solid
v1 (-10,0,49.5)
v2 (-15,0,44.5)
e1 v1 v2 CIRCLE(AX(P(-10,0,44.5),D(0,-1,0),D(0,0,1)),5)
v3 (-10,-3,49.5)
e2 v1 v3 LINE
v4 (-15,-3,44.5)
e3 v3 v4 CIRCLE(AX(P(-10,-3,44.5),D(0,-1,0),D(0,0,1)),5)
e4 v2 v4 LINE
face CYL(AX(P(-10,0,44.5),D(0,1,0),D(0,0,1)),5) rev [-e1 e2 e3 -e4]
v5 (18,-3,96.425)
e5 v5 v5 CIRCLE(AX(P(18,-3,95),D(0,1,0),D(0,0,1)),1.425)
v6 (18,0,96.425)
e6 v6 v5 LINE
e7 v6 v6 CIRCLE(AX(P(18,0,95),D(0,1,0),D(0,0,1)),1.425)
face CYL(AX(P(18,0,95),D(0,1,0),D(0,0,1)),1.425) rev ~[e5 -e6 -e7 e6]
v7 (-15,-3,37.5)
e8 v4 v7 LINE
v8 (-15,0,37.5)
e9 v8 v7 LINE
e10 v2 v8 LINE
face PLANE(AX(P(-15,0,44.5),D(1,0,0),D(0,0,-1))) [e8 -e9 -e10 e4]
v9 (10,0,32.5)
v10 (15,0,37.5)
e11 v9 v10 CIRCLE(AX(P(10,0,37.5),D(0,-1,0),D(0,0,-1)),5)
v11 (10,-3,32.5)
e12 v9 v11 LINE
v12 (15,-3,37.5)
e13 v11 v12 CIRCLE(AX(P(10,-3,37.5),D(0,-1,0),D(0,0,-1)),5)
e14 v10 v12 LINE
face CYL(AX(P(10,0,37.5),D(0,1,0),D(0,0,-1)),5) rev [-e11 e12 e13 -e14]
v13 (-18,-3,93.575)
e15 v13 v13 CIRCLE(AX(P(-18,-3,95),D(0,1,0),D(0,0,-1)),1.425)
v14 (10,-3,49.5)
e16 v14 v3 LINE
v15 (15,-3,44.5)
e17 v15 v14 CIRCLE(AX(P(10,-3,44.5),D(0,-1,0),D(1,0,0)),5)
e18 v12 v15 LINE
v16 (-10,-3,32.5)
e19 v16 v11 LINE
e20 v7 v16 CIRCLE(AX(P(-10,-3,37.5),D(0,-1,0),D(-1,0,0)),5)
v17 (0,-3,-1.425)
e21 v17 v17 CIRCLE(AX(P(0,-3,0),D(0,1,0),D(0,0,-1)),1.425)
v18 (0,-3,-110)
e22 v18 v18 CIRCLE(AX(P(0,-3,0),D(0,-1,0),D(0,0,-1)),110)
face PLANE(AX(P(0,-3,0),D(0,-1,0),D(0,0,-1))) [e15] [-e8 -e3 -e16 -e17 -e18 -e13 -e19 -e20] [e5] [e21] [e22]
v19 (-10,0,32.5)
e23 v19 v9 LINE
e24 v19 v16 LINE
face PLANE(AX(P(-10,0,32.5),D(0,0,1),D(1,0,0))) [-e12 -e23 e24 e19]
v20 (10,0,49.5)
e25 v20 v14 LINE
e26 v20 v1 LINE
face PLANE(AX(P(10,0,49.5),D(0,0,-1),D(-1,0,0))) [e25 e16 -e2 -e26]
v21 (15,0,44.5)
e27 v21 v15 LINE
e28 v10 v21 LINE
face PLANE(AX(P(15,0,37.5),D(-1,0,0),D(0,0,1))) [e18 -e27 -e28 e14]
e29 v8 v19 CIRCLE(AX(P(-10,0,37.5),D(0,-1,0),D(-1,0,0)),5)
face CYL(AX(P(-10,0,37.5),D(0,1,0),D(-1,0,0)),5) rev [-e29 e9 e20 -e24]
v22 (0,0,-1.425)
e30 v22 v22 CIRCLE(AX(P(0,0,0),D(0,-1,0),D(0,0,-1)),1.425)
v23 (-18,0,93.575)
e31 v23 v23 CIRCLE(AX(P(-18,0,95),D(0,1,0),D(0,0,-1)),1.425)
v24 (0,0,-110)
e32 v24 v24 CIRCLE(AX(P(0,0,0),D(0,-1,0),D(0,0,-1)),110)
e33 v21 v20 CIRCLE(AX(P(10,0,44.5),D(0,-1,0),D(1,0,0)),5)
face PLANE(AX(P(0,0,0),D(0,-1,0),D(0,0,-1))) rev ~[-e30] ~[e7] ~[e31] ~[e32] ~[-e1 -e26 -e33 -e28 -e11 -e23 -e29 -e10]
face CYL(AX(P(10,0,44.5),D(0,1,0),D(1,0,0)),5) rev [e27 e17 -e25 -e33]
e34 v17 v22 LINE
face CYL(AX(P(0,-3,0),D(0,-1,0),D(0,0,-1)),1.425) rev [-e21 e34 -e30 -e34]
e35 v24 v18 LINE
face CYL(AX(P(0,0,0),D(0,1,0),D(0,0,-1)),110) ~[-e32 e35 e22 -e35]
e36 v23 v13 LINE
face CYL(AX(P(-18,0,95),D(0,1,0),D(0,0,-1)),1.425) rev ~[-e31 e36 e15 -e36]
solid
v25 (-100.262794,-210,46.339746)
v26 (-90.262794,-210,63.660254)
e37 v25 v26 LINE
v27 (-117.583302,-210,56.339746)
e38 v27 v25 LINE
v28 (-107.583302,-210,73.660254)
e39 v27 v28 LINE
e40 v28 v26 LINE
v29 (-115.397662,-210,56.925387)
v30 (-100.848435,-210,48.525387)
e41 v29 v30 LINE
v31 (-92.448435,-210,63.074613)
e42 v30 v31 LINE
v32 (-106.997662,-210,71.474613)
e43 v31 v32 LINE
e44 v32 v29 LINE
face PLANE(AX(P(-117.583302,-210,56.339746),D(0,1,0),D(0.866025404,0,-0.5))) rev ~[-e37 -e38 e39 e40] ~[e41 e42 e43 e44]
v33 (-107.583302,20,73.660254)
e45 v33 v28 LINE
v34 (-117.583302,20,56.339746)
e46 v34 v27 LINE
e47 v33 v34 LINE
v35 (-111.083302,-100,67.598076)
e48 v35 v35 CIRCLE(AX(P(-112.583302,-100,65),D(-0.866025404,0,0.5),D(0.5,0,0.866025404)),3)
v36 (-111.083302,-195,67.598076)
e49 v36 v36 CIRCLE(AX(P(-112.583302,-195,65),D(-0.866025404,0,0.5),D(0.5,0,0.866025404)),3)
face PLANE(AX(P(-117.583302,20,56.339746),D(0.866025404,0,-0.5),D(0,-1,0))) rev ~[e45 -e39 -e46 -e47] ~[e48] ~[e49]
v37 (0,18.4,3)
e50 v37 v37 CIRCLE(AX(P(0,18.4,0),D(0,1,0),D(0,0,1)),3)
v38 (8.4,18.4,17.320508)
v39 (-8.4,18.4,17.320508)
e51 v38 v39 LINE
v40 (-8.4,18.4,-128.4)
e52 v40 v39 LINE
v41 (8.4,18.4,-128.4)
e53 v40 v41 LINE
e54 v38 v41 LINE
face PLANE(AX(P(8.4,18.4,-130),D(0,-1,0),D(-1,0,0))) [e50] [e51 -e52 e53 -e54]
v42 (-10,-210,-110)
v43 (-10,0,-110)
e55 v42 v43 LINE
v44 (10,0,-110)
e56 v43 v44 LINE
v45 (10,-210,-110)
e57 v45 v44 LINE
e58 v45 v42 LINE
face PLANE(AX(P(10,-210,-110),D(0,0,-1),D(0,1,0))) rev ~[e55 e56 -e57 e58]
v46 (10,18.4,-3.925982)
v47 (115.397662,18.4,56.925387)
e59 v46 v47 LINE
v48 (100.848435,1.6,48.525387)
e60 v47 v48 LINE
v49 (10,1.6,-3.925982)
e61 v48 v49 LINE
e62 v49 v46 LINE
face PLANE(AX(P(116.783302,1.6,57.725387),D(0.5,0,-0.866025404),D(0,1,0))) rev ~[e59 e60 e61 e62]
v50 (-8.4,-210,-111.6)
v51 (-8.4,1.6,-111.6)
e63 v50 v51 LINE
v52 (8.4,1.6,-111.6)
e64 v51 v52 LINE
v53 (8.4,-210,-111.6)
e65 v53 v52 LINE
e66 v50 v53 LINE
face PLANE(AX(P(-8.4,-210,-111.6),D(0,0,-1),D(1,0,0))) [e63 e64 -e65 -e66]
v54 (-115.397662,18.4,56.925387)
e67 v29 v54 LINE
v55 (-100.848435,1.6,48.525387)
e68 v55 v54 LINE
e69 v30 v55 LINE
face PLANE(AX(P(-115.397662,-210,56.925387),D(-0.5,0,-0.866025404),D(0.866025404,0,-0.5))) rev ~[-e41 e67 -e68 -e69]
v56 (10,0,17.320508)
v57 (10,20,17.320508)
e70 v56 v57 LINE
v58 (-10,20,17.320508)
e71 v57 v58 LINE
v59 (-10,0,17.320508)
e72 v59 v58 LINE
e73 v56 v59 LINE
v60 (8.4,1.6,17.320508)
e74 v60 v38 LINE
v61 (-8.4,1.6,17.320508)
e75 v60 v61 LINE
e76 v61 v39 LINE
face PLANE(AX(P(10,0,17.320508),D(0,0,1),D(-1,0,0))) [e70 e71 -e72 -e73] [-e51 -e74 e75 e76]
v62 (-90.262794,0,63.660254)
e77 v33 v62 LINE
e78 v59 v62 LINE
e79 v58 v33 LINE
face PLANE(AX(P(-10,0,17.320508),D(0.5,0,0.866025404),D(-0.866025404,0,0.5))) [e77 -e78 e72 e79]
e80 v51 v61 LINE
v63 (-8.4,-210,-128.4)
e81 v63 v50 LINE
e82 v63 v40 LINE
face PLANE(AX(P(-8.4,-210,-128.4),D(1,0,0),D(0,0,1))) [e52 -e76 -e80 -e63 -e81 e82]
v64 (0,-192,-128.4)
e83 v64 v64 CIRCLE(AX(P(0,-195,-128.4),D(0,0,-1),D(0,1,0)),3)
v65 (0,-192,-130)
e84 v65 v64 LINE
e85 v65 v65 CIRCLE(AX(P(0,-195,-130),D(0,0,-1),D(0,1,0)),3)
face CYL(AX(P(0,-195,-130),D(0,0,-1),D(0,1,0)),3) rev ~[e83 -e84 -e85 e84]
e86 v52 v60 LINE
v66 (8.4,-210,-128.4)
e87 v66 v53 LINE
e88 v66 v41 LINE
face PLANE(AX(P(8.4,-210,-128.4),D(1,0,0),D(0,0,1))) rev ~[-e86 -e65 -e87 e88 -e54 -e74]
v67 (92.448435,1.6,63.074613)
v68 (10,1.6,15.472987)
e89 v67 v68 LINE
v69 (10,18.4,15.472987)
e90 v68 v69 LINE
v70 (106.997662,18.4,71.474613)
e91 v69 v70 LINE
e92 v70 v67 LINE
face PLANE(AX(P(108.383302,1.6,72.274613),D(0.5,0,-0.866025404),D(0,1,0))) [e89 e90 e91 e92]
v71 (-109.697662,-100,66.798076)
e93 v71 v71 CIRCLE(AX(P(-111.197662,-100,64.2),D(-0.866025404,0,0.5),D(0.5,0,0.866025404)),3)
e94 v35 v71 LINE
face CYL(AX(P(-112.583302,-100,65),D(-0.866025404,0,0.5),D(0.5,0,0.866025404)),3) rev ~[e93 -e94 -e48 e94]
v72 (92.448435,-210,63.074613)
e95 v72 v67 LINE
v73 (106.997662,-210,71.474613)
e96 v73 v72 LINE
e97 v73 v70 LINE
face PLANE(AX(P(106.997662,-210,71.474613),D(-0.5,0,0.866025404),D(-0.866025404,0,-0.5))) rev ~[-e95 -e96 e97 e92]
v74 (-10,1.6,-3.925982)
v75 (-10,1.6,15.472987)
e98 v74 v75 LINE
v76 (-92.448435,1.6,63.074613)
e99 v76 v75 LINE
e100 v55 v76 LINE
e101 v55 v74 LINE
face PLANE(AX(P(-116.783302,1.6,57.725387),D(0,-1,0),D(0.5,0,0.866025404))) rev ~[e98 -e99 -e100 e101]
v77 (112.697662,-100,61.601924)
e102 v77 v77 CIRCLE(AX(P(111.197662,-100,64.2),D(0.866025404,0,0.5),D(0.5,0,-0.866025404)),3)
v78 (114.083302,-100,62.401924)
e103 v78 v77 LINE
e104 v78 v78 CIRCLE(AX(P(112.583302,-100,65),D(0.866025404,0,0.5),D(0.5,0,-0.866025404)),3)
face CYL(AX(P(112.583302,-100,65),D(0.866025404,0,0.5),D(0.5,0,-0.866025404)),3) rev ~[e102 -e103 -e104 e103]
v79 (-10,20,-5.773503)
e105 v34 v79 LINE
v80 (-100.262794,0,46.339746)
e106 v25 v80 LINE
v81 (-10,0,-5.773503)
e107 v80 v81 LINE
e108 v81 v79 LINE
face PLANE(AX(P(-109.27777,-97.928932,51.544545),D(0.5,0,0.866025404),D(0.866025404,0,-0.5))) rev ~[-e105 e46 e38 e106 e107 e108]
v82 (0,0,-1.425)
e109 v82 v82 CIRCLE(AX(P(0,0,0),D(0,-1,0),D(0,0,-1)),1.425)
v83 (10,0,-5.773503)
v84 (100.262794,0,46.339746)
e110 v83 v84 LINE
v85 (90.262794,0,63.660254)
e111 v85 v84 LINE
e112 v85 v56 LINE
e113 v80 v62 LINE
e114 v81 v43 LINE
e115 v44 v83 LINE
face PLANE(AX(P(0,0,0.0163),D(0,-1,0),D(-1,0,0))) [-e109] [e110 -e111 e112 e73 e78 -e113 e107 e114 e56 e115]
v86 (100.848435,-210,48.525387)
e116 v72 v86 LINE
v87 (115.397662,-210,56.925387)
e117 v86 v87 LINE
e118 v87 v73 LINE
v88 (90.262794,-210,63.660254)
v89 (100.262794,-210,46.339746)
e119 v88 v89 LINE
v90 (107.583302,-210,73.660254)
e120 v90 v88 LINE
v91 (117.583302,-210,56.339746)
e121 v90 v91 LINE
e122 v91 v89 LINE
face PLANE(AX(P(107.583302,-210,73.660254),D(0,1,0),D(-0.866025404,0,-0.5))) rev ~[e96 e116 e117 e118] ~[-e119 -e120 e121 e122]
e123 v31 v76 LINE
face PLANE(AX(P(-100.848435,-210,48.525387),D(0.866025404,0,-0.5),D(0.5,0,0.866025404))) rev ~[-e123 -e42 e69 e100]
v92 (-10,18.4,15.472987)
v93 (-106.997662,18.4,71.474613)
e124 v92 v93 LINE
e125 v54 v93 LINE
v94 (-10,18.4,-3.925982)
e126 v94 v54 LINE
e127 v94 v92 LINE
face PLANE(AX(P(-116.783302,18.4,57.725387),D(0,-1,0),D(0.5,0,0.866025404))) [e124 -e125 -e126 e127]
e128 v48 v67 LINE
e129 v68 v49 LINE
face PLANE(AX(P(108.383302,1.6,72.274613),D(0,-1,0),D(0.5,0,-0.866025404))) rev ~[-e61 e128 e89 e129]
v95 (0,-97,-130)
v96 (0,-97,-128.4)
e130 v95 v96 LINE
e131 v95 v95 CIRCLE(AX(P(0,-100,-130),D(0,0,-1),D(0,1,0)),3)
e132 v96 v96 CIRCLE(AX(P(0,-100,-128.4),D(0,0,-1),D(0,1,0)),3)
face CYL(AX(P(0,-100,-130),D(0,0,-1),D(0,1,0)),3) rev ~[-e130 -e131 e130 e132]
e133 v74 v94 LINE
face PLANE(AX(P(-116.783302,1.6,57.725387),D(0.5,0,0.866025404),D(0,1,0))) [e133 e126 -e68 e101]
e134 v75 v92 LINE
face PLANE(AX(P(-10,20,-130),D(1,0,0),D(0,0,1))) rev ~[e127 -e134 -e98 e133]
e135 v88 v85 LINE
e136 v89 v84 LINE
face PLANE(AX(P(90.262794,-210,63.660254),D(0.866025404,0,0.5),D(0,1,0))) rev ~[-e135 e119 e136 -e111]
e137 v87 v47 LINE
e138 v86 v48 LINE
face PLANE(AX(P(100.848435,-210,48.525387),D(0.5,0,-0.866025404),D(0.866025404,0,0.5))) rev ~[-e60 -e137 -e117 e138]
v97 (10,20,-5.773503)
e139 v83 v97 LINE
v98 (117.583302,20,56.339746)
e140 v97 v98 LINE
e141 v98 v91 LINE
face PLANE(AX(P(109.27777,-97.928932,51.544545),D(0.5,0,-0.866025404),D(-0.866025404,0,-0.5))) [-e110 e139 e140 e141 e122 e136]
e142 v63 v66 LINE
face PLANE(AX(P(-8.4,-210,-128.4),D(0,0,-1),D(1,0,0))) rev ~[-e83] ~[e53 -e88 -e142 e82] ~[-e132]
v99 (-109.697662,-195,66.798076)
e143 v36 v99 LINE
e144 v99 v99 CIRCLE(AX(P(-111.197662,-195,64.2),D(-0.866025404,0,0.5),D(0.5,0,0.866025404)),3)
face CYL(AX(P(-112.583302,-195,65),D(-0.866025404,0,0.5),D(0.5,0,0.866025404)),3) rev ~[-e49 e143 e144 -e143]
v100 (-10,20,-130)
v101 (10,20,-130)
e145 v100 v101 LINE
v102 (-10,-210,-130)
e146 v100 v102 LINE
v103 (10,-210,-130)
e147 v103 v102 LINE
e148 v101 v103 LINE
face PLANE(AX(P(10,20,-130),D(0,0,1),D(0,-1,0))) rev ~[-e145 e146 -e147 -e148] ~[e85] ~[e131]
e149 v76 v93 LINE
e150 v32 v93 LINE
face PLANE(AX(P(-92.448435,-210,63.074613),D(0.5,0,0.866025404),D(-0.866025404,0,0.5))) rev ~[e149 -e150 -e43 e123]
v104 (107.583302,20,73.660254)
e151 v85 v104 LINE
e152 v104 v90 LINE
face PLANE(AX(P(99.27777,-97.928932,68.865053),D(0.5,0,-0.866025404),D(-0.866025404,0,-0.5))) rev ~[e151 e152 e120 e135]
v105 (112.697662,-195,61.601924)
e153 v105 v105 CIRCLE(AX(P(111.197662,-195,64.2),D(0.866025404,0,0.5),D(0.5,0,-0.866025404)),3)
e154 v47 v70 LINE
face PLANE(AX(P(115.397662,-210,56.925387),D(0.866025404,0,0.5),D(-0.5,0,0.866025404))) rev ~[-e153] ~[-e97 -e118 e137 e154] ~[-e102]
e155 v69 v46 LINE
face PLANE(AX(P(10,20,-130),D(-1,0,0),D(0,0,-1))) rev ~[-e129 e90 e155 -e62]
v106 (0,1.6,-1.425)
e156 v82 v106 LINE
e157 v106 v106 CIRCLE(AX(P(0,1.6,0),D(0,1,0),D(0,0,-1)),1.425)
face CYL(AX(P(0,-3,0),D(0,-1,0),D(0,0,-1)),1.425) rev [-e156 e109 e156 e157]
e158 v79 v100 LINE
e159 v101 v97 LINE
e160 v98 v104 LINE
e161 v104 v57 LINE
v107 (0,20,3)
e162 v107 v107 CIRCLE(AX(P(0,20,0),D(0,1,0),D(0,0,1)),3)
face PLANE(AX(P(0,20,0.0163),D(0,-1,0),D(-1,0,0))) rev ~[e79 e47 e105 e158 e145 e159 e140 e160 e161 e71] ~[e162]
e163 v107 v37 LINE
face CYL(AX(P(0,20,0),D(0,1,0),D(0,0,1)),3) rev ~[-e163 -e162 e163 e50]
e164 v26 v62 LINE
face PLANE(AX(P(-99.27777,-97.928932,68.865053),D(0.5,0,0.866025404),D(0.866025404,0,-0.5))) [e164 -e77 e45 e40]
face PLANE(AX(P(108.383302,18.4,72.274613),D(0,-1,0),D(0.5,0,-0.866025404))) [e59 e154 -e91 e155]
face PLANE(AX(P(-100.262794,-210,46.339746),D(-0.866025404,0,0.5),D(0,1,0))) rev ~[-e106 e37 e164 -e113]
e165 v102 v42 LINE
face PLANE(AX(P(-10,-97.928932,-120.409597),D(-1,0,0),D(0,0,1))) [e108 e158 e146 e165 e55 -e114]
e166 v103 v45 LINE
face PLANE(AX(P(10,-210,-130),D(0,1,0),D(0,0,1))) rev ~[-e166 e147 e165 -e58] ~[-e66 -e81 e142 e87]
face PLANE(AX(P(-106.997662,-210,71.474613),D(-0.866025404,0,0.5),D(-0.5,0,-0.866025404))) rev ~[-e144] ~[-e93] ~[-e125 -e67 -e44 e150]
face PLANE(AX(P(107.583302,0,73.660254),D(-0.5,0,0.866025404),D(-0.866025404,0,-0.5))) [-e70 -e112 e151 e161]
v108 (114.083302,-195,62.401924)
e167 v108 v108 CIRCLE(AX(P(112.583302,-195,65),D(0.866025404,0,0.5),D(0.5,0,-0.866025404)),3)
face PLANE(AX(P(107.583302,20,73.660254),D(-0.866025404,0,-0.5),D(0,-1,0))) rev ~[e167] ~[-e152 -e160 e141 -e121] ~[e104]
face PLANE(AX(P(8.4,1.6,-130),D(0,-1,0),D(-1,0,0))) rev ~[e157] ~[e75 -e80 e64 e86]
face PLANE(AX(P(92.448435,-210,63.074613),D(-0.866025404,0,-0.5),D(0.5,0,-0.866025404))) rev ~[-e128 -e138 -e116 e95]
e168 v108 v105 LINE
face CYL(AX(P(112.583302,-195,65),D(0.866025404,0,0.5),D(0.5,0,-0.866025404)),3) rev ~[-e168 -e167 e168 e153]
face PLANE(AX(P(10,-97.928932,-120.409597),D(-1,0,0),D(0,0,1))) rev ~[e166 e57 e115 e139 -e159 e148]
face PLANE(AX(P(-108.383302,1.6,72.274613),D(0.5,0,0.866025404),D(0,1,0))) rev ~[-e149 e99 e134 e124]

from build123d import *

# Parameters (mm, degrees)
BOSS_EXTRUDE1_DEPTH = 20
CUT_EXTRUDE1_REACH  = 304.327
SKETCH2_W           = 16.8
SKETCH2_H           = 16.8
SKETCH3_W           = 16.8
SKETCH3_H           = 16.8
CUT_EXTRUDE2_DEPTH  = 147.320508076
CUT_EXTRUDE4_REACH  = 304.327
SKETCH4_W           = 16.8
SKETCH4_H           = 16.8
CUT_EXTRUDE5_REACH  = 185.242
CUT_EXTRUDE6_REACH  = 175.638
CUT_EXTRUDE7_REACH  = 188.154
BOSS_EXTRUDE2_DEPTH = 20
CUT_EXTRUDE8_DEPTH  = 228.4
BOSS_EXTRUDE3_DEPTH = 20
SKETCH11_W          = 16.8
SKETCH11_H          = 16.8
CUT_EXTRUDE9_DEPTH  = 228.4
BOSS_EXTRUDE4_DEPTH = 20
CUT_EXTRUDE10_DEPTH = 228.4
CUT_EXTRUDE11_REACH = 369.562
SKETCH14_R          = 3
CUT_EXTRUDE12_REACH = 317.283
SKETCH15_R          = 3
CUT_EXTRUDE13_REACH = 369.562
SKETCH16_R          = 3
SKETCH17_R          = 110
BOSS_EXTRUDE6_DEPTH = 3
SKETCH18_R          = 3
CUT_EXTRUDE14_DEPTH = 1.6
CUT_EXTRUDE15_START = -4.6
SKETCH19_R          = 1.425
CUT_EXTRUDE15_DEPTH = 4.6
SKETCH20_R          = 1.425
CUT_EXTRUDE16_DEPTH = 3


with BuildPart() as part:
    # Sketch1 → Boss-Extrude1 (new body)
    with BuildSketch(Plane(origin=(0, 0, 0), x_dir=(1, 0, 0), z_dir=(0, 1, 0))):
        Polygon((-10, 130), (10, 130), (10, 5.773502692), (117.583302492, -56.339745962), (107.583302492, -73.660254038), (10, -17.320508076), (-10, -17.320508076), (-107.583302492, -73.660254038), (-117.583302492, -56.339745962), (-10, 5.773502692), align=None)
    extrude(amount=BOSS_EXTRUDE1_DEPTH)

    # Cut-Extrude1: up to this plane
    cut_extrude1_end = Plane(origin=(10, 20, -130), z_dir=(-1, 0, 0))
    # Sketch2 → Cut-Extrude1 (cut, up to the surface)
    with BuildSketch(Plane(origin=(112.583302492, 0, 65), x_dir=(0.4999999999999971, 0, -0.8660254037844403), z_dir=(0.8660254037844404, 0, 0.49999999999999717)), mode=Mode.PRIVATE) as cut_extrude1_sk1:
        with Locations((0, 10)):
            Rectangle(SKETCH2_W, SKETCH2_H)
    cut_extrude1_tool1 = split(extrude(cut_extrude1_sk1.sketch, amount=-CUT_EXTRUDE1_REACH, mode=Mode.PRIVATE), bisect_by=cut_extrude1_end, keep=Keep.BOTH, mode=Mode.PRIVATE)
    add(cut_extrude1_tool1.solids().sort_by_distance((112.583302, 10, 65))[0], mode=Mode.SUBTRACT)

    # Sketch3 → Cut-Extrude2 (cut)
    with BuildSketch(Plane(origin=(0, 0, -130), x_dir=(-1, 0, 0), z_dir=(0, 0, -1))):
        with Locations((0, 10)):
            Rectangle(SKETCH3_W, SKETCH3_H)
    extrude(amount=-CUT_EXTRUDE2_DEPTH, mode=Mode.SUBTRACT)

    # Cut-Extrude4: up to this plane
    cut_extrude4_end = Plane(origin=(-10, 20, -130), z_dir=(1, 0, 0))
    # Sketch4 → Cut-Extrude4 (cut, up to the surface)
    with BuildSketch(Plane(origin=(-112.583302492, 0, 65), x_dir=(0.5000000000000071, 0, 0.8660254037844346), z_dir=(-0.8660254037844346, 0, 0.5000000000000071)), mode=Mode.PRIVATE) as cut_extrude4_sk1:
        with Locations((0, 10)):
            Rectangle(SKETCH4_W, SKETCH4_H)
    cut_extrude4_tool1 = split(extrude(cut_extrude4_sk1.sketch, amount=-CUT_EXTRUDE4_REACH, mode=Mode.PRIVATE), bisect_by=cut_extrude4_end, keep=Keep.BOTH, mode=Mode.PRIVATE)
    add(cut_extrude4_tool1.solids().sort_by_distance((-112.583302, 10, 65))[0], mode=Mode.SUBTRACT)

    # Cut-Extrude5: up to this face of the body (flat: up to its plane)
    cut_extrude5_end = Plane(part.part.faces().sort_by_distance((10, 10, -67.886751346))[0])
    # Sketch5 → Cut-Extrude5 (cut, up to the picked face)
    with BuildSketch(Plane.ZY.offset(10), mode=Mode.PRIVATE) as cut_extrude5_sk1:
        Polygon((-130, 20), (-110, 0), (-130, 0), align=None)
    cut_extrude5_tool1 = split(extrude(cut_extrude5_sk1.sketch, amount=-CUT_EXTRUDE5_REACH, mode=Mode.PRIVATE), bisect_by=cut_extrude5_end, keep=Keep.BOTH, mode=Mode.PRIVATE)
    add(cut_extrude5_tool1.solids().sort_by(Axis((-10, 6.666667, -123.333333), (1, 0, 0)))[0], mode=Mode.SUBTRACT)

    # Cut-Extrude6: up to this face of the body (flat: up to its plane)
    cut_extrude6_end = Plane(part.part.faces().sort_by_distance((-58.791651246, 10, 45.490381057))[0])
    # Sketch6 → Cut-Extrude6 (cut, up to the picked face)
    with BuildSketch(Plane(origin=(-5, 0, -8.660254038), x_dir=(-0.8660254037844363, 0, 0.5000000000000042), z_dir=(-0.5000000000000042, 0, -0.8660254037844363)), mode=Mode.PRIVATE) as cut_extrude6_sk1:
        Polygon((130, 20), (110, 0), (130, 0), align=None)
    cut_extrude6_tool1 = split(extrude(cut_extrude6_sk1.sketch, amount=-CUT_EXTRUDE6_REACH, mode=Mode.PRIVATE), bisect_by=cut_extrude6_end, keep=Keep.BOTH, mode=Mode.PRIVATE)
    add(cut_extrude6_tool1.solids().sort_by(Axis((-111.8098, 6.666667, 53.006413), (0.5000000000000042, 0, 0.8660254037844363)))[0], mode=Mode.SUBTRACT)

    # Cut-Extrude7: up to this face of the body (flat: up to its plane)
    cut_extrude7_end = Plane(part.part.faces().sort_by_distance((63.791651246, 10, 25.283121635))[0])
    # Sketch7 → Cut-Extrude7 (cut, up to the picked face)
    with BuildSketch(Plane(origin=(-5, 0, 8.660254038), x_dir=(0.8660254037844403, 0, 0.4999999999999973), z_dir=(-0.4999999999999973, 0, 0.8660254037844403)), mode=Mode.PRIVATE) as cut_extrude7_sk1:
        Polygon((130, 20), (130, 0), (110, 0), align=None)
    cut_extrude7_tool1 = split(extrude(cut_extrude7_sk1.sketch, amount=-CUT_EXTRUDE7_REACH, mode=Mode.PRIVATE), bisect_by=cut_extrude7_end, keep=Keep.BOTH, mode=Mode.PRIVATE)
    add(cut_extrude7_tool1.solids().sort_by(Axis((101.8098, 6.666667, 70.326921), (0.4999999999999973, 0, -0.8660254037844403)))[0], mode=Mode.SUBTRACT)

    # Sketch8 → Boss-Extrude2 (add)
    with BuildSketch(Plane(origin=(-5, 0, 8.660254038), x_dir=(0.8660254037844403, 0, 0.4999999999999973), z_dir=(-0.4999999999999973, 0, 0.8660254037844403))):
        Polygon((130, 20), (130, -210), (110, -210), (110, 0), align=None)
    extrude(amount=-BOSS_EXTRUDE2_DEPTH)

    # Sketch9 → Cut-Extrude8 (cut)
    with BuildSketch(Plane.XZ.offset(210)):
        Polygon((100.848435062, 48.525386608), (115.397661846, 56.925386608), (106.997661846, 71.474613392), (92.448435062, 63.074613392), align=None)
    extrude(amount=-CUT_EXTRUDE8_DEPTH, mode=Mode.SUBTRACT)

    # Sketch10 → Boss-Extrude3 (add)
    with BuildSketch(Plane(origin=(10, 0, 0), x_dir=(0, 0, -1), z_dir=(1, 0, 0))):
        Polygon((130, 20), (130, -210), (110, -210), (110, 0), align=None)
    extrude(amount=-BOSS_EXTRUDE3_DEPTH)

    # Sketch11 → Cut-Extrude9 (cut)
    with BuildSketch(Plane.XZ.offset(210)):
        with Locations((0, -120)):
            Rectangle(SKETCH11_W, SKETCH11_H)
    extrude(amount=-CUT_EXTRUDE9_DEPTH, mode=Mode.SUBTRACT)

    # Sketch12 → Boss-Extrude4 (add)
    with BuildSketch(Plane(origin=(-5, 0, -8.660254038), x_dir=(-0.8660254037844363, 0, 0.5000000000000042), z_dir=(-0.5000000000000042, 0, -0.8660254037844363))):
        Polygon((130, 20), (130, -210), (110, -210), (110, 0), align=None)
    extrude(amount=-BOSS_EXTRUDE4_DEPTH)

    # Sketch13 → Cut-Extrude10 (cut)
    with BuildSketch(Plane.XZ.offset(210)):
        Polygon((-92.448435062, 63.074613392), (-106.997661846, 71.474613392), (-115.397661846, 56.925386608), (-100.848435062, 48.525386608), align=None)
    extrude(amount=-CUT_EXTRUDE10_DEPTH, mode=Mode.SUBTRACT)

    # Sketch14 → Cut-Extrude11 (cut, up to next)
    with BuildSketch(Plane(origin=(-112.583302492, 0, 65), x_dir=(0.5000000000000042, 0, 0.8660254037844363), z_dir=(-0.8660254037844363, -1.0553382477548879e-15, 0.5000000000000042)), mode=Mode.PRIVATE) as cut_extrude11_sk1:
        with Locations((0, -100)):
            Circle(SKETCH14_R)
    cut_extrude11_tool1 = extrude(cut_extrude11_sk1.sketch, amount=-CUT_EXTRUDE11_REACH, mode=Mode.PRIVATE) & part.part
    # Sketch14 → Cut-Extrude11 (cut, up to next)
    with BuildSketch(Plane(origin=(-112.583302492, 0, 65), x_dir=(0.5000000000000042, 0, 0.8660254037844363), z_dir=(-0.8660254037844363, -1.0553382477548879e-15, 0.5000000000000042)), mode=Mode.PRIVATE) as cut_extrude11_sk2:
        with Locations((0, -195)):
            Circle(SKETCH14_R)
    cut_extrude11_tool2 = extrude(cut_extrude11_sk2.sketch, amount=-CUT_EXTRUDE11_REACH, mode=Mode.PRIVATE) & part.part
    add(cut_extrude11_tool1.solids().sort_by_distance((-112.583302, -100, 65))[0], mode=Mode.SUBTRACT)
    add(cut_extrude11_tool2.solids().sort_by_distance((-112.583302, -195, 65))[0], mode=Mode.SUBTRACT)

    # Sketch15 → Cut-Extrude12 (cut, up to next)
    with BuildSketch(Plane(origin=(0, 0, -130), x_dir=(-1, 0, 0), z_dir=(0, 0, -1)), mode=Mode.PRIVATE) as cut_extrude12_sk1:
        with Locations(Location((0, -100, 0), (0, 0, 90))):
            Circle(SKETCH15_R)
    cut_extrude12_tool1 = extrude(cut_extrude12_sk1.sketch, amount=-CUT_EXTRUDE12_REACH, mode=Mode.PRIVATE) & part.part
    # Sketch15 → Cut-Extrude12 (cut, up to next)
    with BuildSketch(Plane(origin=(0, 0, -130), x_dir=(-1, 0, 0), z_dir=(0, 0, -1)), mode=Mode.PRIVATE) as cut_extrude12_sk2:
        with Locations(Location((0, -195, 0), (0, 0, 90))):
            Circle(SKETCH15_R)
    cut_extrude12_tool2 = extrude(cut_extrude12_sk2.sketch, amount=-CUT_EXTRUDE12_REACH, mode=Mode.PRIVATE) & part.part
    add(cut_extrude12_tool1.solids().sort_by_distance((0, -100, -130))[0], mode=Mode.SUBTRACT)
    add(cut_extrude12_tool2.solids().sort_by_distance((0, -195, -130))[0], mode=Mode.SUBTRACT)

    # Sketch16 → Cut-Extrude13 (cut, up to next)
    with BuildSketch(Plane(origin=(112.583302492, 0, 65), x_dir=(0.4999999999999973, 0, -0.8660254037844403), z_dir=(0.8660254037844403, 0, 0.4999999999999973)), mode=Mode.PRIVATE) as cut_extrude13_sk1:
        with Locations((0, -100)):
            Circle(SKETCH16_R)
    cut_extrude13_tool1 = extrude(cut_extrude13_sk1.sketch, amount=-CUT_EXTRUDE13_REACH, mode=Mode.PRIVATE) & part.part
    # Sketch16 → Cut-Extrude13 (cut, up to next)
    with BuildSketch(Plane(origin=(112.583302492, 0, 65), x_dir=(0.4999999999999973, 0, -0.8660254037844403), z_dir=(0.8660254037844403, 0, 0.4999999999999973)), mode=Mode.PRIVATE) as cut_extrude13_sk2:
        with Locations((0, -195)):
            Circle(SKETCH16_R)
    cut_extrude13_tool2 = extrude(cut_extrude13_sk2.sketch, amount=-CUT_EXTRUDE13_REACH, mode=Mode.PRIVATE) & part.part
    add(cut_extrude13_tool1.solids().sort_by_distance((112.583302, -100, 65))[0], mode=Mode.SUBTRACT)
    add(cut_extrude13_tool2.solids().sort_by_distance((112.583302, -195, 65))[0], mode=Mode.SUBTRACT)

    # Sketch18 → Cut-Extrude14 (cut)
    with BuildSketch(Plane(origin=(0, 20, 0), x_dir=(1, 0, 0), z_dir=(0, 1, 0))):
        with Locations(Location((0, 0, 0), (0, 0, 270))):
            Circle(SKETCH18_R)
    extrude(amount=-CUT_EXTRUDE14_DEPTH, mode=Mode.SUBTRACT)


with BuildPart() as body_2:
    # Sketch17 → Boss-Extrude6 (new body)
    with BuildSketch(Plane.XZ):
        with Locations(Location((0, 0, 0), (0, 0, 270))):
            Circle(SKETCH17_R)
    extrude(amount=BOSS_EXTRUDE6_DEPTH)


with BuildPart() as cut_extrude15_tool:
    # Sketch19 → Cut-Extrude15 (new body)
    with BuildSketch(Plane(origin=(0, 1.6, 0), x_dir=(1, 0, 0), z_dir=(0, 1, 0)).offset(CUT_EXTRUDE15_START)):
        with Locations(Location((0, 0, 0), (0, 0, 90))):
            Circle(SKETCH19_R)
    extrude(amount=CUT_EXTRUDE15_DEPTH)


with BuildPart() as part_1:
    add(part.part)

    # Cut-Extrude15: cut by cut_extrude15_tool
    add(cut_extrude15_tool.part, mode=Mode.SUBTRACT)


with BuildPart() as body_2_1:
    add(body_2.part)

    # Cut-Extrude15: cut by cut_extrude15_tool
    add(cut_extrude15_tool.part, mode=Mode.SUBTRACT)

    # Sketch20 → Cut-Extrude16 (cut)
    with BuildSketch(Plane(origin=(0, 0, 0), x_dir=(1, 0, 0), z_dir=(0, 1, 0))):
        with Locations(Location((18, -95, 0), (0, 0, 270))):
            Circle(SKETCH20_R)
        with Locations(Location((-18, -95, 0), (0, 0, 90))):
            Circle(SKETCH20_R)
        with BuildLine():
            Line((-10, -32.5), (10, -32.5))
            ThreePointArc((10, -32.5), (13.535533906, -33.964466094), (15, -37.5))
            Line((15, -37.5), (15, -44.5))
            ThreePointArc((15, -44.5), (13.535533906, -48.035533906), (10, -49.5))
            Line((10, -49.5), (-10, -49.5))
            ThreePointArc((-10, -49.5), (-13.535533906, -48.035533906), (-15, -44.5))
            Line((-15, -44.5), (-15, -37.5))
            ThreePointArc((-15, -37.5), (-13.535533906, -33.964466094), (-10, -32.5))
        make_face()
    extrude(amount=-CUT_EXTRUDE16_DEPTH, mode=Mode.SUBTRACT)


solid = Compound([part_1.part, body_2_1.part])
